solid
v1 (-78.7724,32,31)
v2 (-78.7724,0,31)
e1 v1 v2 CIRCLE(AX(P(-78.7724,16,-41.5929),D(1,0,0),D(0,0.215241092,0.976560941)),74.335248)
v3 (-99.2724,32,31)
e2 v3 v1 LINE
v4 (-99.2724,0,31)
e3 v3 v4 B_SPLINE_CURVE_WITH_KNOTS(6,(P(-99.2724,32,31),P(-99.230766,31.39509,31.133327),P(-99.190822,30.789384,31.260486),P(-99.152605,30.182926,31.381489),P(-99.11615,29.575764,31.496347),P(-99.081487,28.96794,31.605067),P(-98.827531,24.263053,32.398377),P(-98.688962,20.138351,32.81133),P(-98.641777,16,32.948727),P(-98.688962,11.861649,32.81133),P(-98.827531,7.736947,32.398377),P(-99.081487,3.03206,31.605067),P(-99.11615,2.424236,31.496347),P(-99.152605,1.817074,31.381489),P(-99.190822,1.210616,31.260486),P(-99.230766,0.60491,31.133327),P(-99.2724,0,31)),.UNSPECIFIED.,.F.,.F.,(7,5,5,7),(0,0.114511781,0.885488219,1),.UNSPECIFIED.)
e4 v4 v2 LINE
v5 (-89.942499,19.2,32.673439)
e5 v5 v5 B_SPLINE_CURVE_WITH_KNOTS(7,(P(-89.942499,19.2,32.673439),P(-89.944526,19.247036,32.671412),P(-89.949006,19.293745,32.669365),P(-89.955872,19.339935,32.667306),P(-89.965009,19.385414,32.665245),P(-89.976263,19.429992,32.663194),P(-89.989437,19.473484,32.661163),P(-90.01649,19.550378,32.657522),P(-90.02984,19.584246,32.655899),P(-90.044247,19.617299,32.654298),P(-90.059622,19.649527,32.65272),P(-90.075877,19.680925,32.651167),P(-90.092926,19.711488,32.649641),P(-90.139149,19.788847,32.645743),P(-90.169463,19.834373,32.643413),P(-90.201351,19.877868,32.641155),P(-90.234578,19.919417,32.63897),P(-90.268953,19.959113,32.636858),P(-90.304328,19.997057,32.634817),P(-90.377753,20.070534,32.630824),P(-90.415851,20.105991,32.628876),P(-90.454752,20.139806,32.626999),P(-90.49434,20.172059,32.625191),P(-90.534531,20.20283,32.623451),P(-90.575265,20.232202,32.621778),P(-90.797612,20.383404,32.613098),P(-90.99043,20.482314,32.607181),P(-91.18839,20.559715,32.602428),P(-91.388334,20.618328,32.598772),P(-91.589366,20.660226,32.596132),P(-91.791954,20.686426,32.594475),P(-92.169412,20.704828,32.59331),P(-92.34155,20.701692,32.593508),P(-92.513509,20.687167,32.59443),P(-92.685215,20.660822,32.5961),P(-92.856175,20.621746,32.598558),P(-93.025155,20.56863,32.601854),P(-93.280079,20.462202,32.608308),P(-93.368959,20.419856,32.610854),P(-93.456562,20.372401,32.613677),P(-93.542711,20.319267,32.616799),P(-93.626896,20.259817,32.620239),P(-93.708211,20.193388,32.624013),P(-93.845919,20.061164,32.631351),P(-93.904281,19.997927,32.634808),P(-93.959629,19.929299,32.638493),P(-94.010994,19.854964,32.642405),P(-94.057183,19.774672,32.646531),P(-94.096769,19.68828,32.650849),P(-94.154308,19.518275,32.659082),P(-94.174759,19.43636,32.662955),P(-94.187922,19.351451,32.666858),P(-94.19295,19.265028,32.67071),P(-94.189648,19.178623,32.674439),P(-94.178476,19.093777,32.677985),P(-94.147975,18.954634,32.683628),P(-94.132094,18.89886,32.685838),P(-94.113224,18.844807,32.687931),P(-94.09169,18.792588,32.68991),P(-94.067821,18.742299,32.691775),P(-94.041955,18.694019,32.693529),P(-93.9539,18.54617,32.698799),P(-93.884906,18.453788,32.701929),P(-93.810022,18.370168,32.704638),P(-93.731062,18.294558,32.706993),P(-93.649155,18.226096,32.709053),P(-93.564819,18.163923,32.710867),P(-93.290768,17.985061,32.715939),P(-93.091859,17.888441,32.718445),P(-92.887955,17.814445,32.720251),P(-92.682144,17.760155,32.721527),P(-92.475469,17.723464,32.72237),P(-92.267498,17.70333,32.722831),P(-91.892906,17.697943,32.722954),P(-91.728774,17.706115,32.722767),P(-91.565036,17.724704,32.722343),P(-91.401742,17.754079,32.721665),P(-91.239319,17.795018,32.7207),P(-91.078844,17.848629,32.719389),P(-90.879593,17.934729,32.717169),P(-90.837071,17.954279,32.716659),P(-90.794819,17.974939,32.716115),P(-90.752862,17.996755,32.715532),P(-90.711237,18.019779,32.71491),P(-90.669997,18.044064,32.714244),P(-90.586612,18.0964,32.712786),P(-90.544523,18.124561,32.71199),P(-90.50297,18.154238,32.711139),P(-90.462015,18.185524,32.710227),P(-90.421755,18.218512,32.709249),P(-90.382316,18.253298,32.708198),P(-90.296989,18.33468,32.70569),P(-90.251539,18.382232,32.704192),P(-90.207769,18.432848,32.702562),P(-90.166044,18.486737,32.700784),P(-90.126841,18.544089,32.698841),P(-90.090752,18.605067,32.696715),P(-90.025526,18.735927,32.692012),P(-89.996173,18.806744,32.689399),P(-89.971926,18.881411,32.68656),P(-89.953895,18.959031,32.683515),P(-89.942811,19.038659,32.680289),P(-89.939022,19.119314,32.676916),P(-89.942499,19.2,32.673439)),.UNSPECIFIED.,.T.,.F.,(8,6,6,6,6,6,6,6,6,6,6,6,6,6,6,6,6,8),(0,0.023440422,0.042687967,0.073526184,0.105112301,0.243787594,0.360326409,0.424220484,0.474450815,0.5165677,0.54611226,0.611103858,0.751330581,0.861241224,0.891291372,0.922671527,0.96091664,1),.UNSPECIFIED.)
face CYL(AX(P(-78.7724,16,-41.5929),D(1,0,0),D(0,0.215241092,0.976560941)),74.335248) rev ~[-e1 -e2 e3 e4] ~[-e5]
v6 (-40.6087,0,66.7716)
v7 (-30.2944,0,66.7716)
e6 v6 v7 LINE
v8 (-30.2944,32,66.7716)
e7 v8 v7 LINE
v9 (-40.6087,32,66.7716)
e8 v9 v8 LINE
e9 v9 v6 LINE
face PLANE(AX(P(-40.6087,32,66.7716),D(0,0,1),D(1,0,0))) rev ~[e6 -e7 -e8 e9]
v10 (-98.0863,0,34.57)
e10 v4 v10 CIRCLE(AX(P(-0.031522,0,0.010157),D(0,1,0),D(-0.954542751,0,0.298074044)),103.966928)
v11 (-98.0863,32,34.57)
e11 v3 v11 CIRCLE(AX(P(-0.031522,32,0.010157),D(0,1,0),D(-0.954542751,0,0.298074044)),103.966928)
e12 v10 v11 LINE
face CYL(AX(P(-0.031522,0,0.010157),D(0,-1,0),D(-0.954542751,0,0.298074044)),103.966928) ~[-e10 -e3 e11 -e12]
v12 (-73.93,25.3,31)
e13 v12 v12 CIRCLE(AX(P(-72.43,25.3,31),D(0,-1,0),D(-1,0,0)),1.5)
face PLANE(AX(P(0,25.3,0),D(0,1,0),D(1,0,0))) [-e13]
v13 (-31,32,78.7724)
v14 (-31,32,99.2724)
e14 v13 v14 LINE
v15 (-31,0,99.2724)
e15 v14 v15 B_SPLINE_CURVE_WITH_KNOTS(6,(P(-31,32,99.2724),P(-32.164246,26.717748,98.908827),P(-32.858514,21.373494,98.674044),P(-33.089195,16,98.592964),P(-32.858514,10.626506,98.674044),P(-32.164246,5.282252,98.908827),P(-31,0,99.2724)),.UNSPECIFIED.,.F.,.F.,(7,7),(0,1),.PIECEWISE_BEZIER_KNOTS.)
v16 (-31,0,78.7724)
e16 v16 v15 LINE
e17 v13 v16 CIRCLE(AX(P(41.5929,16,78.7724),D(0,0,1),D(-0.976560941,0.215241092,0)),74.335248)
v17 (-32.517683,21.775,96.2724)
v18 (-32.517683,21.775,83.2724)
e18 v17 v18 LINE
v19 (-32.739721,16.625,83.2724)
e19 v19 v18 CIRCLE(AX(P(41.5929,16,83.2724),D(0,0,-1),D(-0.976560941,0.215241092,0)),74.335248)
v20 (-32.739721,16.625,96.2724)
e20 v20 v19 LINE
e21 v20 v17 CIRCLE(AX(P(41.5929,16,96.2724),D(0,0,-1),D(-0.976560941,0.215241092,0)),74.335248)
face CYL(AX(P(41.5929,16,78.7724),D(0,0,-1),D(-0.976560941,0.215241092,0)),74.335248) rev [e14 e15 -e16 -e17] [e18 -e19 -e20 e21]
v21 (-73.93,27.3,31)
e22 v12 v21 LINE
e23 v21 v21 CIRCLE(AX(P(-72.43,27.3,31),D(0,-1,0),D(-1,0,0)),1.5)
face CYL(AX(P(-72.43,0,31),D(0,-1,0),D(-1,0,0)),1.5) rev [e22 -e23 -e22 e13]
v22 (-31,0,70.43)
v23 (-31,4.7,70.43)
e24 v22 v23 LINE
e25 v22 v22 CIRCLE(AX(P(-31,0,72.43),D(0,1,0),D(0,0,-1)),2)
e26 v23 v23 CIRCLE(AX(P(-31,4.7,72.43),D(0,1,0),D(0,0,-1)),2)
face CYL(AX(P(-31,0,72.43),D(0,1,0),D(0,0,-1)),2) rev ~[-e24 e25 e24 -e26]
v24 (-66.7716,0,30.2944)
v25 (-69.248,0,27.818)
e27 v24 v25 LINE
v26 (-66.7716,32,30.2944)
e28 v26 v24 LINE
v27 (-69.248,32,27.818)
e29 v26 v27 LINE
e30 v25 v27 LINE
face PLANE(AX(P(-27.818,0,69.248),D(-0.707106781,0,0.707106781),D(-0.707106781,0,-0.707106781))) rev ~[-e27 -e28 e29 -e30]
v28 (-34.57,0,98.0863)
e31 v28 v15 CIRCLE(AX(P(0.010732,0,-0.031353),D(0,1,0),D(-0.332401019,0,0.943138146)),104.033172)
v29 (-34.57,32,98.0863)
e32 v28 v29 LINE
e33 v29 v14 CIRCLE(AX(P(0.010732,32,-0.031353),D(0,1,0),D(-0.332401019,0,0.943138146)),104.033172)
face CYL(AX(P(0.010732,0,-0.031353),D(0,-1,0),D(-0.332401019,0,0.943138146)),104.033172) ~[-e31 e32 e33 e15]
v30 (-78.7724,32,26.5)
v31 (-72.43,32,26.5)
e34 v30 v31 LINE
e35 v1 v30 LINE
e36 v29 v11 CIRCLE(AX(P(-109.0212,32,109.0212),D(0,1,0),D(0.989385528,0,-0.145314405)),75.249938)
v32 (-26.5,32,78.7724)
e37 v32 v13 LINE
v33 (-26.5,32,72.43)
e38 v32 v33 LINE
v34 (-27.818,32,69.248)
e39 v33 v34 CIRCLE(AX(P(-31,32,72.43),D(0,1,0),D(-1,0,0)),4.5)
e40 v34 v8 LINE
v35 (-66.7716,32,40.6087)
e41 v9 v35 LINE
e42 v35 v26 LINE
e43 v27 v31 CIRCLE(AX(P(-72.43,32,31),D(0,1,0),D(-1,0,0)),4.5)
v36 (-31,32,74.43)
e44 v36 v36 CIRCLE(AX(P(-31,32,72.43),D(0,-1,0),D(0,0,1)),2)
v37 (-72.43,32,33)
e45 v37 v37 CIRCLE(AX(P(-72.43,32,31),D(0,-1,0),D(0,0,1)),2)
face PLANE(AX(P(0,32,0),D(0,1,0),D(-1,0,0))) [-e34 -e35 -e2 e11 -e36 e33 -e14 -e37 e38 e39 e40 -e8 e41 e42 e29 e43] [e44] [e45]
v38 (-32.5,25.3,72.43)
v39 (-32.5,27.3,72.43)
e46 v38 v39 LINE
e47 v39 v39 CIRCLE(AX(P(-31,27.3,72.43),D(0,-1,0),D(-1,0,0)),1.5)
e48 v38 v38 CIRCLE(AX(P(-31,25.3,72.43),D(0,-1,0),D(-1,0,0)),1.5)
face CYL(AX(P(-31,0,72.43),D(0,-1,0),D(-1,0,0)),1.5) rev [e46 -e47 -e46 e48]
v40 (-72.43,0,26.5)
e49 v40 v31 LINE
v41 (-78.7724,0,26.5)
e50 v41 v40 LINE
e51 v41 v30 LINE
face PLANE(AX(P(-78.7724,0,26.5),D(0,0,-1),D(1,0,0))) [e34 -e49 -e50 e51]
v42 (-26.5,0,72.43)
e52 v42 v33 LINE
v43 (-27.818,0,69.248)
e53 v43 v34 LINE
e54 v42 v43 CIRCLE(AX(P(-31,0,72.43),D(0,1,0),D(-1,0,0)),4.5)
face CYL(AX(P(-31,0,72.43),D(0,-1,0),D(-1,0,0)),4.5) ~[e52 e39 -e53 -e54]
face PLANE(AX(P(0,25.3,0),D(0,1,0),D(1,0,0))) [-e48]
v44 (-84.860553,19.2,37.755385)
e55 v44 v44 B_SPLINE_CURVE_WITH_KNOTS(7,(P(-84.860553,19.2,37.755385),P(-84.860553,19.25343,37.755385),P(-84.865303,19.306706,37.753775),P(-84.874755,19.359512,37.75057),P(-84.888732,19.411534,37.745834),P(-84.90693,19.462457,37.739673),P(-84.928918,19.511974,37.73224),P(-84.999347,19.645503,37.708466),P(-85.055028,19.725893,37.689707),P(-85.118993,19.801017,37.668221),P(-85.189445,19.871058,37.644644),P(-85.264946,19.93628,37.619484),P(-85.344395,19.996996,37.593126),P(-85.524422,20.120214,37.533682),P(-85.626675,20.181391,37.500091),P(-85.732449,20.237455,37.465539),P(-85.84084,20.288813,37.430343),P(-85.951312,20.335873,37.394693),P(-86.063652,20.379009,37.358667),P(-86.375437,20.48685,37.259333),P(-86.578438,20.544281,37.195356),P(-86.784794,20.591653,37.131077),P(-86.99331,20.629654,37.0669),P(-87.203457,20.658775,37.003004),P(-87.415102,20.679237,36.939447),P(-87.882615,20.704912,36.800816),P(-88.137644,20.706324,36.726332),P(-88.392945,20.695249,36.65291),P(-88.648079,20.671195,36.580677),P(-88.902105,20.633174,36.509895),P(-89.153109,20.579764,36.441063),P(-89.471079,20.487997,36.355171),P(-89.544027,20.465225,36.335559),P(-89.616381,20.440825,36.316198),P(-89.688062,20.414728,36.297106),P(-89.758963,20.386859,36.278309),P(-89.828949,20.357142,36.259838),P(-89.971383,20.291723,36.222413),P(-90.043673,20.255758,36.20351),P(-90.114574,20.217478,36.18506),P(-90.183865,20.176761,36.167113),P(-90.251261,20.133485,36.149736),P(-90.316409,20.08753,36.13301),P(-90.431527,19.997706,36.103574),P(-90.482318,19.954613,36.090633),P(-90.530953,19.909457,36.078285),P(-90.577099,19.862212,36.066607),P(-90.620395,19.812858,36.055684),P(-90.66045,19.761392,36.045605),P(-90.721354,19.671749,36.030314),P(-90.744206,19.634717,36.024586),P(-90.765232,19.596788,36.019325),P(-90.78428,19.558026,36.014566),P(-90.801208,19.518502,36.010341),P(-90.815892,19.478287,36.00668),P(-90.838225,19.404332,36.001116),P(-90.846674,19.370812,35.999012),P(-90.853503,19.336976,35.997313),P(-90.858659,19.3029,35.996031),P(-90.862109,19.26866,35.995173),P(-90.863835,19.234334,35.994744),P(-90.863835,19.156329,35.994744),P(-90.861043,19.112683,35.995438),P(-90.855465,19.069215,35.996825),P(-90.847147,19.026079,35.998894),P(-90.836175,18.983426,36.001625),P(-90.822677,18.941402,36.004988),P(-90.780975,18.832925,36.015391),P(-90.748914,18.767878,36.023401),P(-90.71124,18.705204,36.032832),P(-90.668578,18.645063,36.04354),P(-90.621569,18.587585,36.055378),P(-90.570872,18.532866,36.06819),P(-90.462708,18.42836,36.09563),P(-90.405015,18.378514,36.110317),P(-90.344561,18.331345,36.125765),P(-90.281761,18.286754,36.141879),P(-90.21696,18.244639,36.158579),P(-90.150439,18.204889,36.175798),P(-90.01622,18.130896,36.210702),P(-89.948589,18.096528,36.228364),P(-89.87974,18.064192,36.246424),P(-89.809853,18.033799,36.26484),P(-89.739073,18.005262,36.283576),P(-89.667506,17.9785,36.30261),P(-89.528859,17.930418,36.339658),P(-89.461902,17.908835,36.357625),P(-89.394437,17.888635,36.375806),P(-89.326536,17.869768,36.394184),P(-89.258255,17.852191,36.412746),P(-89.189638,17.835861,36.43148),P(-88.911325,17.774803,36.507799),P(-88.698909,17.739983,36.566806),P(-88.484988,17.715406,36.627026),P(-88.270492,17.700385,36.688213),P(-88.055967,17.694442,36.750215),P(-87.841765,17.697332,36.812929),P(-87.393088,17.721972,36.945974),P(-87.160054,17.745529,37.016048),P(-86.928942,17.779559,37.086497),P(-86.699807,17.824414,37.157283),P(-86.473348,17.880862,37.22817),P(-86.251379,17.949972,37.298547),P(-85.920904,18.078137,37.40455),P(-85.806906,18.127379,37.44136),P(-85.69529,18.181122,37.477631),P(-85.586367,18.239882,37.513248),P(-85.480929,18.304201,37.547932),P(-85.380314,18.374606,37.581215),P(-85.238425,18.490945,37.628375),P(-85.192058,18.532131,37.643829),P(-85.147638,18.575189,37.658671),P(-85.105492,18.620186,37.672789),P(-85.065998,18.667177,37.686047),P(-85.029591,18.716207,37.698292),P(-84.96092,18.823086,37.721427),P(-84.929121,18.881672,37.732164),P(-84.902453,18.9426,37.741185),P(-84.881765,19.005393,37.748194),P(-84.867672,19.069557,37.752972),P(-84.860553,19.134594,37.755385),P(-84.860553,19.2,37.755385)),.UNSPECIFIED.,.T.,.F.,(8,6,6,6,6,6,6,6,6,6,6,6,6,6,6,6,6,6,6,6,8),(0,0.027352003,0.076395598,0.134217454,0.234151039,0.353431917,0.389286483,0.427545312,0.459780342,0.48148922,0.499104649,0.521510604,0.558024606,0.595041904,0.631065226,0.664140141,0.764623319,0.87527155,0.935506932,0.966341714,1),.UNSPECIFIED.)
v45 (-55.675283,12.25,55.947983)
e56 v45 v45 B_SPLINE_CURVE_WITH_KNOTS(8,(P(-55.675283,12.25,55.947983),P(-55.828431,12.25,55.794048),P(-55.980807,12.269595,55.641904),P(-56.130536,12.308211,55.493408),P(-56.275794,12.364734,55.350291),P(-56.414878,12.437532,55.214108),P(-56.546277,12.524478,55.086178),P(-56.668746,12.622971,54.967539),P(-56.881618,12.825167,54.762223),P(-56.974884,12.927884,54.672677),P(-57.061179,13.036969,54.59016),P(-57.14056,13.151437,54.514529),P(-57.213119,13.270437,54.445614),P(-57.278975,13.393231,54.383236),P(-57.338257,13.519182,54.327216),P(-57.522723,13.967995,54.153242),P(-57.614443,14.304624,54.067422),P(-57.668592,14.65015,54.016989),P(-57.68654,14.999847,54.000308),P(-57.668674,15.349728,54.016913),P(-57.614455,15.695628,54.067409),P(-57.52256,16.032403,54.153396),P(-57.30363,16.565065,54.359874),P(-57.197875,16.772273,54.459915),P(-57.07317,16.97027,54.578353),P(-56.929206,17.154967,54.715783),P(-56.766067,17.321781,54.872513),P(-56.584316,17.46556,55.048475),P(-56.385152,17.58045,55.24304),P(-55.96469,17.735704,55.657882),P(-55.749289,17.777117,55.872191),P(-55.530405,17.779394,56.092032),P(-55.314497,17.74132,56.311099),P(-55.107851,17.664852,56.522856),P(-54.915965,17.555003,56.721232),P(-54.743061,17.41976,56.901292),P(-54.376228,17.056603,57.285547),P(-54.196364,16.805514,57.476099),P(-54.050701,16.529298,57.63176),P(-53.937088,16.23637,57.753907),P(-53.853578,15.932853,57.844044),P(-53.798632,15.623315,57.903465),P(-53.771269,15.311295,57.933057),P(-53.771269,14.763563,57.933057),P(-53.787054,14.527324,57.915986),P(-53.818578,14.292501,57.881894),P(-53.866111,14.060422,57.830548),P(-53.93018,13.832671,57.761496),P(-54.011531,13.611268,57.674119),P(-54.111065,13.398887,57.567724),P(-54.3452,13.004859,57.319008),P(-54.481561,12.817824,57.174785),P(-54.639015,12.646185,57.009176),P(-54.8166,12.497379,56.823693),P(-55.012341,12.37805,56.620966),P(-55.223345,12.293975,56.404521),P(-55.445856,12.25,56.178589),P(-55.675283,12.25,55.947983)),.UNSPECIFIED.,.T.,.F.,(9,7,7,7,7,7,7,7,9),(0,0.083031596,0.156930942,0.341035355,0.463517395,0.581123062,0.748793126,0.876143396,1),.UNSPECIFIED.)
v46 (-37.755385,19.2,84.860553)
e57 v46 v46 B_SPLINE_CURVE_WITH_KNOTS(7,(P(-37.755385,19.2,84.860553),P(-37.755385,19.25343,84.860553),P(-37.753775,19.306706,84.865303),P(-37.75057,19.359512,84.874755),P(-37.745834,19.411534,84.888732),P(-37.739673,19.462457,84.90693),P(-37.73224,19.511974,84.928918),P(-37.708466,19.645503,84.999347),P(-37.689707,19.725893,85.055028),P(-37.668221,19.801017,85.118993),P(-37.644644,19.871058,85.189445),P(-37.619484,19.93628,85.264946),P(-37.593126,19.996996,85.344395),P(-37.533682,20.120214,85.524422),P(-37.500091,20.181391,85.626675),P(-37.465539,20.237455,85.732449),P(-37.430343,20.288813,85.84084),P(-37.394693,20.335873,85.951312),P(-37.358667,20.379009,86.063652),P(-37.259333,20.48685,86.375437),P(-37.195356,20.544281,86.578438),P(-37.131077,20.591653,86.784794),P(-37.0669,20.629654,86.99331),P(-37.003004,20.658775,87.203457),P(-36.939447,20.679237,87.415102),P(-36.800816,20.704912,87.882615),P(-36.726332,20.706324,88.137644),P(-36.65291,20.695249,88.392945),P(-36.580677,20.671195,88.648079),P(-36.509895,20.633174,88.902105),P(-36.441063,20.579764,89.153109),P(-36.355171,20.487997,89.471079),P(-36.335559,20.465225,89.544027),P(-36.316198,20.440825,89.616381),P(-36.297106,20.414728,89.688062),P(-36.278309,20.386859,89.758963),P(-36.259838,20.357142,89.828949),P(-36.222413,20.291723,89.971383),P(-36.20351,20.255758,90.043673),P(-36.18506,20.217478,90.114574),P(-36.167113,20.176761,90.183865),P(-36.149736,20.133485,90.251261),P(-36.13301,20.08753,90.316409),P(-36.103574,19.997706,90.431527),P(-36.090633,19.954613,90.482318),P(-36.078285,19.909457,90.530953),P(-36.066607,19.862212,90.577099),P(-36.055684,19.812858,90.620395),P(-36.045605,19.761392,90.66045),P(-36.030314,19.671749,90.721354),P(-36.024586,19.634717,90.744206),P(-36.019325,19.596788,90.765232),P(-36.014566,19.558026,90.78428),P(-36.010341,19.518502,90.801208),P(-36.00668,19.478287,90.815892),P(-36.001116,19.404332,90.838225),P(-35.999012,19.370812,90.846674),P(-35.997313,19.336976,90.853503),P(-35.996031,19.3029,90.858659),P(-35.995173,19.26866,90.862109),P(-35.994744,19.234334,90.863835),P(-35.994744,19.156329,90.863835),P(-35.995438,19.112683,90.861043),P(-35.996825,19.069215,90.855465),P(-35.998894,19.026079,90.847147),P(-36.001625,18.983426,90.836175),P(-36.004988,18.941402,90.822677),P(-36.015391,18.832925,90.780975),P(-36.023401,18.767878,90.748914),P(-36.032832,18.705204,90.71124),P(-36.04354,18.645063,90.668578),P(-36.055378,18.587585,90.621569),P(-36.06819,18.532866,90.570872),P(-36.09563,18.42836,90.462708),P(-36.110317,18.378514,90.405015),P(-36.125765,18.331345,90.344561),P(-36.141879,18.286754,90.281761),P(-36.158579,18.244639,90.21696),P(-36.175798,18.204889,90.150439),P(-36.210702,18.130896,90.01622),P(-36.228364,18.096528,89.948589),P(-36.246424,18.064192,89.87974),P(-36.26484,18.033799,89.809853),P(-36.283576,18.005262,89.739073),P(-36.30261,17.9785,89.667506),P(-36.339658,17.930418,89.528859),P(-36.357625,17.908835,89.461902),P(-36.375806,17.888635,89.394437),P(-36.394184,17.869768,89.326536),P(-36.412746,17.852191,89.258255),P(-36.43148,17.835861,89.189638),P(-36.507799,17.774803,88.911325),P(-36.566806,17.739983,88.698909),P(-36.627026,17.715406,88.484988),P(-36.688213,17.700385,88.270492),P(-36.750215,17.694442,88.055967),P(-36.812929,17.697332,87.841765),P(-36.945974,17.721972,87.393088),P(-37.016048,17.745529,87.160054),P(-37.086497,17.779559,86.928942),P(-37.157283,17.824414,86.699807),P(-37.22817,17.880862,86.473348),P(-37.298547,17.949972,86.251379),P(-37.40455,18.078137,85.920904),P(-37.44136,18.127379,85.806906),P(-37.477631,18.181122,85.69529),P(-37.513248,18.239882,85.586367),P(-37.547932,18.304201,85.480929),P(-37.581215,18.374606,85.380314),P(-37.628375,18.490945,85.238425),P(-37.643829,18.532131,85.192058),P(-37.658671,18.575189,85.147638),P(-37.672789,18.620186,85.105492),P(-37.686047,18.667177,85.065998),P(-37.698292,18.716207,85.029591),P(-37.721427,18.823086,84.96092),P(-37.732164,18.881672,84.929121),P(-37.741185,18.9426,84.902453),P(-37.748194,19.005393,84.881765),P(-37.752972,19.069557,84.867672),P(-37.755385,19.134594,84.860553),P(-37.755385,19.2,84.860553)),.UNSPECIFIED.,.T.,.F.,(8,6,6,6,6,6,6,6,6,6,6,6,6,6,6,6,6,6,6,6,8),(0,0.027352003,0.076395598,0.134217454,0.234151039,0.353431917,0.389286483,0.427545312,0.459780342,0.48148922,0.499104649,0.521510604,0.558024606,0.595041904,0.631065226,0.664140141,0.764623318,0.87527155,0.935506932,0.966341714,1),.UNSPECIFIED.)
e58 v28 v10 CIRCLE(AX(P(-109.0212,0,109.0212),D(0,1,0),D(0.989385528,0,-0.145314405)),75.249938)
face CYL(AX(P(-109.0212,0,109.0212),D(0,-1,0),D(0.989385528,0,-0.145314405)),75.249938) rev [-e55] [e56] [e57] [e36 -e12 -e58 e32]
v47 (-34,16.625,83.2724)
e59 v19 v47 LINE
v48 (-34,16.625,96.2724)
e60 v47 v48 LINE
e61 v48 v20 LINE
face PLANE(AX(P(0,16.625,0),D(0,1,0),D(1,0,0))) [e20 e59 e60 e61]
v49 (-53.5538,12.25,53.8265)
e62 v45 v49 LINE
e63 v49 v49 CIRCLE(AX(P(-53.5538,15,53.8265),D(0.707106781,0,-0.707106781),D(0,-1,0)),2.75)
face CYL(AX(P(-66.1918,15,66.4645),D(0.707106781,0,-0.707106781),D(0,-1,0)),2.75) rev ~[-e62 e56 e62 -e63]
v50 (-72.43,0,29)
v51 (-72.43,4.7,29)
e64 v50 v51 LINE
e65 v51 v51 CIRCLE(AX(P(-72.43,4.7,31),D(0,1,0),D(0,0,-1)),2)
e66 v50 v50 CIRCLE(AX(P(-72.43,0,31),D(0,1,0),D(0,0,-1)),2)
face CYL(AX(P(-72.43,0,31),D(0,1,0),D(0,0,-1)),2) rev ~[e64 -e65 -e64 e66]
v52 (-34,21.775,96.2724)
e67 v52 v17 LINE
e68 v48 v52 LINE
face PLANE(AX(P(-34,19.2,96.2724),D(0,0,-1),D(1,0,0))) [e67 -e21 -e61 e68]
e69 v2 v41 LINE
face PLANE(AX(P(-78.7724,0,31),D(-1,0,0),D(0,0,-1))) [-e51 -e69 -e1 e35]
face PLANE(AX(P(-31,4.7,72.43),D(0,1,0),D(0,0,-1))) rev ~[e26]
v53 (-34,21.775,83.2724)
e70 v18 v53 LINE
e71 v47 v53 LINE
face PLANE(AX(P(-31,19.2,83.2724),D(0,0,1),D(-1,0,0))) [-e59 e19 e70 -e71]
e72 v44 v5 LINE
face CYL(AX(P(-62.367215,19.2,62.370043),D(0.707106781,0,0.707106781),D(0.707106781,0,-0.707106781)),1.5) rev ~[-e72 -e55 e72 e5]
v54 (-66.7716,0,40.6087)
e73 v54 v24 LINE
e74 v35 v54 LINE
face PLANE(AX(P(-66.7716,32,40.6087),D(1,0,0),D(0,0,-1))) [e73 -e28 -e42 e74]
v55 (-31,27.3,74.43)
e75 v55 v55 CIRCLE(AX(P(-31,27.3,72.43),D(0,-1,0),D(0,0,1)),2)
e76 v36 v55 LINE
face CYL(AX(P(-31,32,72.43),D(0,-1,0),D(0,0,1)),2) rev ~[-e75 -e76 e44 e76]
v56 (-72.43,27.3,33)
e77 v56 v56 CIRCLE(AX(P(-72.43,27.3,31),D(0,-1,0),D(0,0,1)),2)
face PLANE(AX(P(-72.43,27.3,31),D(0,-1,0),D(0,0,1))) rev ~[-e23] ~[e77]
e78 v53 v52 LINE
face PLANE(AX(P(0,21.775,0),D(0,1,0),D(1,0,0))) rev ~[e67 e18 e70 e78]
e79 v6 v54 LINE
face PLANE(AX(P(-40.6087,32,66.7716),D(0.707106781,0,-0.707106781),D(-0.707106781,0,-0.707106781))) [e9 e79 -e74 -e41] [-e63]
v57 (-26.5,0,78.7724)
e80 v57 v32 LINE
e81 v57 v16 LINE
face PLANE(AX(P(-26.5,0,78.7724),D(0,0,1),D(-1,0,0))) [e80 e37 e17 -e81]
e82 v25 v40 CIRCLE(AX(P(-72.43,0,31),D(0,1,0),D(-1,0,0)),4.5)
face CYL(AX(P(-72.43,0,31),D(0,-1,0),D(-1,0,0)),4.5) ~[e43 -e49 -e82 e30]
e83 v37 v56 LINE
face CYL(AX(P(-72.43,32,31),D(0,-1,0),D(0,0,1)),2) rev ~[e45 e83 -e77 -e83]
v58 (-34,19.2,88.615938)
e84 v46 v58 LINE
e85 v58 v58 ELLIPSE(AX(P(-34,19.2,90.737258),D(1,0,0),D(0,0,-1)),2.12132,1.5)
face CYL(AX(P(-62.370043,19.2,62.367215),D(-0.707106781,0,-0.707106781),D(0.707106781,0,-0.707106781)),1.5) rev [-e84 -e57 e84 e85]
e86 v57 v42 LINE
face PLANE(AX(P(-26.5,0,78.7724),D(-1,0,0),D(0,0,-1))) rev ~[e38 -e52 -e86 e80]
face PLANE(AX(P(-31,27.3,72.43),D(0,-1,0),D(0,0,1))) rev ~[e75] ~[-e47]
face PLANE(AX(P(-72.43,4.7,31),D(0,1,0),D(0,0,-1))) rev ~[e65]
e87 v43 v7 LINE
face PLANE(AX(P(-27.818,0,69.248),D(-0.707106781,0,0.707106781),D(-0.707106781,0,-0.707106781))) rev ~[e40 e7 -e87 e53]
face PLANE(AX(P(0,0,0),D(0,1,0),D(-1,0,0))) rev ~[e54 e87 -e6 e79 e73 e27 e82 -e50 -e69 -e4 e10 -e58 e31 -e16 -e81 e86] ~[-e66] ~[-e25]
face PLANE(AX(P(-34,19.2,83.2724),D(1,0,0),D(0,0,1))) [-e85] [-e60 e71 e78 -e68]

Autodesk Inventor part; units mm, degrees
ref_plane "YZ Plane" through (0, 0, 0) normal (1, 0, 0) x (0, 1, 0)
ref_plane "XZ Plane" through (0, 0, 0) normal (0, 1, 0) x (-1, 0, 0)
ref_plane "XY Plane" through (0, 0, 0) normal (0, 0, 1) x (1, 0, 0)
sketch "Эскиз1" plane through (0, 0, 0) normal (0, 1, 0) x (-1, 0, 0)
  circle A0 centre (-44.87, 82.9015) radius 1.5
  line L0 (-31, 99.2724) -> (-31, 78.7724)
  line L1 (-31, 78.7724) -> (31, 78.7724)
  circle A1 centre (-42.22, 16) radius 1.5
  circle A2 centre (-16, 42.22) radius 1.5
  circle A3 centre (16, 42.22) radius 1.5
  circle A4 centre (31, 72.43) radius 1.5
  circle A5 centre (16, 72.43) radius 1.5
  circle A6 centre (-16, 72.43) radius 1.5
  arc A7 (-31, 99.2724) -> (-99.2724, 31) centre (0, 0) ccw
  circle A8 centre (-74.5664, 57.67) radius 1.5
  circle A9 centre (-82.9015, 44.87) radius 1.5
  circle A10 centre (-72.43, -16) radius 1.5
  circle A11 centre (-72.43, 16) radius 1.5
  line L2 (-78.7724, 31) -> (-78.7724, -31)
  line L3 (-99.2724, 31) -> (-78.7724, 31)
  line L4 (31, 78.7724) -> (31, 99.2724)
  arc A12 (34.57, 98.0863) -> (98.0863, 34.57) centre (109.0212, 109.0212) ccw
  circle A13 centre (72.43, 31) radius 1.5
  line L5 (99.2724, 31) -> (78.7724, 31)
  circle A14 centre (72.43, 16) radius 1.5
  arc A15 (34.57, 98.0863) -> (31, 99.2724) centre (0, 0) ccw
  arc A16 (99.2724, 31) -> (98.0863, 34.57) centre (0, 0) ccw
  arc A17 (98.0863, 34.57) -> (34.57, 98.0863) centre (0, 0) ccw
  circle A18 centre (42.22, 16) radius 1.5
  circle A19 centre (82.9015, -44.87) radius 1.5
  line L6 (78.7724, -31) -> (99.2724, -31)
  arc A20 (31, -99.2724) -> (99.2724, -31) centre (0, 0) ccw
  circle A21 centre (16, -72.43) radius 1.5
  line L7 (31, -78.7724) -> (31, -99.2724)
  circle A22 centre (44.87, -82.9015) radius 1.5
  circle A23 centre (57.67, -74.5664) radius 1.5
  circle A24 centre (-57.67, 74.5664) radius 1.5
  circle A25 centre (-42.22, -16) radius 1.5
  circle A26 centre (42.22, -16) radius 1.5
  circle A27 centre (-72.43, -31) radius 1.5
  line L8 (-73.5391, 73.5391) -> (73.5391, -73.5391) construction
  line L9 (78.7724, 31) -> (78.7724, -31)
  circle A28 centre (72.43, -16) radius 1.5
  circle A29 centre (-16, -42.22) radius 1.5
  circle A30 centre (16, -42.22) radius 1.5
  circle A31 centre (74.5664, -57.67) radius 1.5
  line L10 (-31, -78.7724) -> (31, -78.7724)
  circle A32 centre (-16, -72.43) radius 1.5
  circle A33 centre (-31, -72.43) radius 1.5
  line L11 (-31, -99.2724) -> (-31, -78.7724)
  arc A34 (-34.57, -98.0863) -> (-31, -99.2724) centre (0, 0) ccw
  line L12 (-78.7724, -31) -> (-99.2724, -31)
  arc A35 (-99.2724, -31) -> (-98.0863, -34.57) centre (0, 0) ccw
  arc A36 (-98.0863, -34.57) -> (-34.57, -98.0863) centre (0, 0) ccw
  arc A37 (-34.57, -98.0863) -> (-98.0863, -34.57) centre (-109.0212, -109.0212) ccw
sketch "Эскиз2" plane through (0, 0, 0) normal (0, 1, 0) x (-1, 0, 0)
  arc A0 (34.57, 98.0863) -> (98.0863, 34.57) centre (109.0212, 109.0212) ccw projected
  arc A1 (99.2724, 31) -> (98.0863, 34.57) centre (0, 0) ccw projected
  arc A2 (34.57, 98.0863) -> (31, 99.2724) centre (0, 0) ccw projected
  line L0 (31, 78.7724) -> (31, 99.2724) projected
  circle A3 centre (31, 72.43) radius 1.5 projected
  circle A4 centre (72.43, 31) radius 1.5 projected
  circle A5 centre (31, 72.43) radius 4.5
  circle A6 centre (72.43, 31) radius 4.5
  line L1 (27.818, 69.248) -> (69.248, 27.818)
  line L2 (26.5, 78.7724) -> (26.5, 72.43)
  line L3 (78.7724, 31) -> (78.7724, -31) projected
  line L4 (78.7724, 26.5) -> (72.43, 26.5)
  line L5 (99.2724, 31) -> (78.7724, 31) projected
  line L6 (26.5, 78.7724) -> (31, 78.7724)
  dimension "d0" = 9
  dimension "d1" = 9
extrude "Выдавливание1" add sketch "Эскиз2" along normal blind 32
ref_plane "РабПлоскость1" through (0, 25.3, 0) normal (0, 1, 0) x (1, 0, 0)
sketch "Эскиз3" plane through (0, 25.3, 0) normal (0, 1, 0) x (1, 0, 0)
  circle A0 centre (-72.43, -31) radius 1.5 projected
  circle A1 centre (-31, -72.43) radius 1.5 projected
  point P0 (0, 0)
extrude "Выдавливание2" add sketch "Эскиз3" against normal blind 20.6
sketch "Эскиз4" plane through (-31, 0, 78.7724) normal (0, 0, 1) x (1, 0, 0)
  line L0 (0, 1) -> (0, 32)
  line L1 (0, 32) -> (-3.57, 32) projected
  line L2 (0, 0) -> (0, 32) projected
  arc A0 (0, 32) -> (0, 0) centre (72.5929, 16) ccw
  point P0 (31, 0)
extrude "Выдавливание3" cut sketch "Эскиз4" along normal through all
ref_plane "РабПлоскость2" through (-48.533, 0, 48.533) normal (0.7071, 0, 0.7071) x (0, 1, 0)
mirror "Зеркальное отражение1" about plane through (-48.533, 0, 48.533) normal (0.7071, 0, 0.7071) of "Выдавливание3"
ref_plane "РабПлоскость3" through (-98.0863, 32, 34.57) normal (0.7071, 0, -0.7071) x (0.7071, 0, 0.7071)
sketch "Эскиз6" plane through (-98.0863, 32, 34.57) normal (0.7071, 0, -0.7071) x (0.7071, 0, 0.7071)
  line L0 (0, -5.66) -> (89.8256, -5.66)
  line L1 (89.8256, -5.66) -> (89.8256, 35)
  line L2 (89.8256, 35) -> (0, 35)
  line L3 (0, 35) -> (0, -5.66)
  circle A0 centre (45.1056, 17) radius 2
  line L4 (89.8256, 32) -> (89.8256, 0) projected
  line L5 (89.8256, 32) -> (89.8256, 35)
  point P0 (44.9128, 32)
  dimension "d12" = 3
hole "Отверстие1" at (-66.1918, 15, 66.4645) direction (0.7071, 0, -0.7071) diameter 5.5 end through all
sketch "Эскиз7" plane through (0, 32, 0) normal (0, 1, 0) x (1, 0, 0)
  line L0 (-31, -78.7724) -> (-26.5, -78.7724) construction
  line L1 (-78.7724, -26.5) -> (-78.7724, -31) construction
  line L2 (-31, -78.7724) -> (-78.7724, -31) construction
  arc A0 (-34.57, -98.0863) -> (-98.0863, -34.57) centre (-109.0212, -109.0212) ccw construction
  line L3 (-40.6087, -66.7716) -> (-66.7716, -40.6087)
  line L4 (-66.7716, -40.6087) -> (-66.7716, -30.2944)
  line L5 (-66.7716, -40.6087) -> (-61.6145, -35.4515) construction
  line L6 (152.6297, 152.6297) -> (-152.6297, -152.6297) construction
  line L7 (-61.6145, -35.4515) -> (-66.7716, -30.2944) construction
  line L8 (-27.818, -69.248) -> (-69.248, -27.818) construction
  line L9 (-40.6087, -66.7716) -> (-30.2944, -66.7716)
  line L10 (-40.6087, -66.7716) -> (-35.4515, -61.6145) construction
  line L11 (-35.4515, -61.6145) -> (-30.2944, -66.7716) construction
  line L12 (-30.2944, -66.7716) -> (-66.7716, -30.2944)
  point P0 (0, 0)
  point P1 (-55.8115, -55.8115)
  point P2 (-53.6901, -53.6901)
  dimension "d20" = 3
  dimension "d21" = 37
extrude "Выдавливание4" cut sketch "Эскиз7" against normal through all
ref_plane "РабПлоскость4" through (0, 19.2, 0) normal (0, 1, 0) x (1, 0, 0)
sketch "Эскиз9" plane through (0, 32, 0) normal (0, 1, 0) x (1, 0, 0)
  arc A0 (-98.0863, -34.57) -> (-34.57, -98.0863) centre (0, 0) ccw projected
  arc A1 (-34.57, -98.0863) -> (-98.0863, -34.57) centre (-109.0212, -109.0212) ccw construction
  line L0 (-73.5391, -73.5391) -> (-55.8115, -55.8115)
  line L1 (-89.442, -36.363) -> (-31, -94.805)
  line L2 (-31, -99.2724) -> (-31, -78.7724) construction
  line L3 (-218.9579, 86.3016) -> (86.3016, -218.9579) projected
  line L4 (-32.7423, -78.7724) -> (-32.7423, -98.7114) projected
  line L5 (-25, -115) -> (25, -115) construction
  line L6 (25, -115) -> (25, -87) construction
  line L7 (25, -87) -> (-25, -87) construction
  line L8 (-25, -87) -> (-25, -115) construction
  line L9 (31, -78.7724) -> (-31, -78.7724) projected
  line L10 (0, -78.7724) -> (0, -128.7724) construction
  line L11 (-37, -86) -> (-32.6866, -81.6866)
  line L12 (-32.6866, -81.6866) -> (-24.2014, -90.1719)
  line L13 (-24.2014, -90.1719) -> (-28.5147, -94.4853)
  line L14 (-28.5147, -94.4853) -> (-37, -86)
  point P0 (-62.9025, -62.9025)
  point P1 (0, -87)
  dimension "d25" = 17.7276
  dimension "d26" = 7.0911
  dimension "d35" = 50
  dimension "d36" = 50
  dimension "d38" = 6.1
  dimension "d39" = 12
sketch "Эскиз10" plane through (0, 19.2, 0) normal (0, 1, 0) x (1, 0, 0)
  line L0 (-34, -83.2724) -> (-34, -96.2724)
  line L1 (-34, -96.2724) -> (-31, -96.2724)
  line L2 (-31, -96.2724) -> (-31, -83.2724)
  line L3 (-31, -83.2724) -> (-34, -83.2724)
  line L4 (-31, -99.2724) -> (-31, -78.7724) projected
  arc A0 (-34.57, -98.0863) -> (-31, -99.2724) centre (0, 0) ccw projected
  point P0 (-31, -99.2724)
  dimension "d40" = 3
  dimension "d41" = 13
  dimension "d65" = 3
extrude "Выдавливание6" cut sketch "Эскиз10" along normal mid plane 5.15
sketch "Эскиз11" plane through (-63.5, 13.425, 63.5) normal (0.7071, 0, 0.7071) x (0.7071, 0, -0.7071)
  circle A0 centre (1.6, 5.775) radius 1.5
  line L0 (15.3638, -13.425) -> (15.3638, 18.575) projected
  line L1 (6.8785, 3.2) -> (6.8785, 8.35) projected
  line L2 (6.8785, 5.775) -> (3.3286, 5.775)
  point P0 (89.8026, -13.425)
  dimension "d45" = 3
  dimension "d48" = 13.7638
extrude "Выдавливание7" cut sketch "Эскиз11" along normal mid plane 100
sketch "Эскиз12" plane through (0, 32, 0) normal (0, 1, 0) x (1, 0, 0)
  circle A0 centre (-72.43, -31) radius 1.5 projected
  circle A1 centre (-31, -72.43) radius 1.5 projected
  point P0 (0, 0)
hole "Отверстие2" at (-72.43, 32, 31) at (-31, 32, 72.43) direction (0, -1, 0) diameter 4 depth 4.7
hole "Отверстие3" at (-31, 0, 72.43) at (-72.43, 0, 31) direction (0, 1, 0) diameter 4 depth 4.7
equation "\"d1\" = d0"
equation "\"d26\" = 0.4 * d25"
properties part number "kicker_cetch"
